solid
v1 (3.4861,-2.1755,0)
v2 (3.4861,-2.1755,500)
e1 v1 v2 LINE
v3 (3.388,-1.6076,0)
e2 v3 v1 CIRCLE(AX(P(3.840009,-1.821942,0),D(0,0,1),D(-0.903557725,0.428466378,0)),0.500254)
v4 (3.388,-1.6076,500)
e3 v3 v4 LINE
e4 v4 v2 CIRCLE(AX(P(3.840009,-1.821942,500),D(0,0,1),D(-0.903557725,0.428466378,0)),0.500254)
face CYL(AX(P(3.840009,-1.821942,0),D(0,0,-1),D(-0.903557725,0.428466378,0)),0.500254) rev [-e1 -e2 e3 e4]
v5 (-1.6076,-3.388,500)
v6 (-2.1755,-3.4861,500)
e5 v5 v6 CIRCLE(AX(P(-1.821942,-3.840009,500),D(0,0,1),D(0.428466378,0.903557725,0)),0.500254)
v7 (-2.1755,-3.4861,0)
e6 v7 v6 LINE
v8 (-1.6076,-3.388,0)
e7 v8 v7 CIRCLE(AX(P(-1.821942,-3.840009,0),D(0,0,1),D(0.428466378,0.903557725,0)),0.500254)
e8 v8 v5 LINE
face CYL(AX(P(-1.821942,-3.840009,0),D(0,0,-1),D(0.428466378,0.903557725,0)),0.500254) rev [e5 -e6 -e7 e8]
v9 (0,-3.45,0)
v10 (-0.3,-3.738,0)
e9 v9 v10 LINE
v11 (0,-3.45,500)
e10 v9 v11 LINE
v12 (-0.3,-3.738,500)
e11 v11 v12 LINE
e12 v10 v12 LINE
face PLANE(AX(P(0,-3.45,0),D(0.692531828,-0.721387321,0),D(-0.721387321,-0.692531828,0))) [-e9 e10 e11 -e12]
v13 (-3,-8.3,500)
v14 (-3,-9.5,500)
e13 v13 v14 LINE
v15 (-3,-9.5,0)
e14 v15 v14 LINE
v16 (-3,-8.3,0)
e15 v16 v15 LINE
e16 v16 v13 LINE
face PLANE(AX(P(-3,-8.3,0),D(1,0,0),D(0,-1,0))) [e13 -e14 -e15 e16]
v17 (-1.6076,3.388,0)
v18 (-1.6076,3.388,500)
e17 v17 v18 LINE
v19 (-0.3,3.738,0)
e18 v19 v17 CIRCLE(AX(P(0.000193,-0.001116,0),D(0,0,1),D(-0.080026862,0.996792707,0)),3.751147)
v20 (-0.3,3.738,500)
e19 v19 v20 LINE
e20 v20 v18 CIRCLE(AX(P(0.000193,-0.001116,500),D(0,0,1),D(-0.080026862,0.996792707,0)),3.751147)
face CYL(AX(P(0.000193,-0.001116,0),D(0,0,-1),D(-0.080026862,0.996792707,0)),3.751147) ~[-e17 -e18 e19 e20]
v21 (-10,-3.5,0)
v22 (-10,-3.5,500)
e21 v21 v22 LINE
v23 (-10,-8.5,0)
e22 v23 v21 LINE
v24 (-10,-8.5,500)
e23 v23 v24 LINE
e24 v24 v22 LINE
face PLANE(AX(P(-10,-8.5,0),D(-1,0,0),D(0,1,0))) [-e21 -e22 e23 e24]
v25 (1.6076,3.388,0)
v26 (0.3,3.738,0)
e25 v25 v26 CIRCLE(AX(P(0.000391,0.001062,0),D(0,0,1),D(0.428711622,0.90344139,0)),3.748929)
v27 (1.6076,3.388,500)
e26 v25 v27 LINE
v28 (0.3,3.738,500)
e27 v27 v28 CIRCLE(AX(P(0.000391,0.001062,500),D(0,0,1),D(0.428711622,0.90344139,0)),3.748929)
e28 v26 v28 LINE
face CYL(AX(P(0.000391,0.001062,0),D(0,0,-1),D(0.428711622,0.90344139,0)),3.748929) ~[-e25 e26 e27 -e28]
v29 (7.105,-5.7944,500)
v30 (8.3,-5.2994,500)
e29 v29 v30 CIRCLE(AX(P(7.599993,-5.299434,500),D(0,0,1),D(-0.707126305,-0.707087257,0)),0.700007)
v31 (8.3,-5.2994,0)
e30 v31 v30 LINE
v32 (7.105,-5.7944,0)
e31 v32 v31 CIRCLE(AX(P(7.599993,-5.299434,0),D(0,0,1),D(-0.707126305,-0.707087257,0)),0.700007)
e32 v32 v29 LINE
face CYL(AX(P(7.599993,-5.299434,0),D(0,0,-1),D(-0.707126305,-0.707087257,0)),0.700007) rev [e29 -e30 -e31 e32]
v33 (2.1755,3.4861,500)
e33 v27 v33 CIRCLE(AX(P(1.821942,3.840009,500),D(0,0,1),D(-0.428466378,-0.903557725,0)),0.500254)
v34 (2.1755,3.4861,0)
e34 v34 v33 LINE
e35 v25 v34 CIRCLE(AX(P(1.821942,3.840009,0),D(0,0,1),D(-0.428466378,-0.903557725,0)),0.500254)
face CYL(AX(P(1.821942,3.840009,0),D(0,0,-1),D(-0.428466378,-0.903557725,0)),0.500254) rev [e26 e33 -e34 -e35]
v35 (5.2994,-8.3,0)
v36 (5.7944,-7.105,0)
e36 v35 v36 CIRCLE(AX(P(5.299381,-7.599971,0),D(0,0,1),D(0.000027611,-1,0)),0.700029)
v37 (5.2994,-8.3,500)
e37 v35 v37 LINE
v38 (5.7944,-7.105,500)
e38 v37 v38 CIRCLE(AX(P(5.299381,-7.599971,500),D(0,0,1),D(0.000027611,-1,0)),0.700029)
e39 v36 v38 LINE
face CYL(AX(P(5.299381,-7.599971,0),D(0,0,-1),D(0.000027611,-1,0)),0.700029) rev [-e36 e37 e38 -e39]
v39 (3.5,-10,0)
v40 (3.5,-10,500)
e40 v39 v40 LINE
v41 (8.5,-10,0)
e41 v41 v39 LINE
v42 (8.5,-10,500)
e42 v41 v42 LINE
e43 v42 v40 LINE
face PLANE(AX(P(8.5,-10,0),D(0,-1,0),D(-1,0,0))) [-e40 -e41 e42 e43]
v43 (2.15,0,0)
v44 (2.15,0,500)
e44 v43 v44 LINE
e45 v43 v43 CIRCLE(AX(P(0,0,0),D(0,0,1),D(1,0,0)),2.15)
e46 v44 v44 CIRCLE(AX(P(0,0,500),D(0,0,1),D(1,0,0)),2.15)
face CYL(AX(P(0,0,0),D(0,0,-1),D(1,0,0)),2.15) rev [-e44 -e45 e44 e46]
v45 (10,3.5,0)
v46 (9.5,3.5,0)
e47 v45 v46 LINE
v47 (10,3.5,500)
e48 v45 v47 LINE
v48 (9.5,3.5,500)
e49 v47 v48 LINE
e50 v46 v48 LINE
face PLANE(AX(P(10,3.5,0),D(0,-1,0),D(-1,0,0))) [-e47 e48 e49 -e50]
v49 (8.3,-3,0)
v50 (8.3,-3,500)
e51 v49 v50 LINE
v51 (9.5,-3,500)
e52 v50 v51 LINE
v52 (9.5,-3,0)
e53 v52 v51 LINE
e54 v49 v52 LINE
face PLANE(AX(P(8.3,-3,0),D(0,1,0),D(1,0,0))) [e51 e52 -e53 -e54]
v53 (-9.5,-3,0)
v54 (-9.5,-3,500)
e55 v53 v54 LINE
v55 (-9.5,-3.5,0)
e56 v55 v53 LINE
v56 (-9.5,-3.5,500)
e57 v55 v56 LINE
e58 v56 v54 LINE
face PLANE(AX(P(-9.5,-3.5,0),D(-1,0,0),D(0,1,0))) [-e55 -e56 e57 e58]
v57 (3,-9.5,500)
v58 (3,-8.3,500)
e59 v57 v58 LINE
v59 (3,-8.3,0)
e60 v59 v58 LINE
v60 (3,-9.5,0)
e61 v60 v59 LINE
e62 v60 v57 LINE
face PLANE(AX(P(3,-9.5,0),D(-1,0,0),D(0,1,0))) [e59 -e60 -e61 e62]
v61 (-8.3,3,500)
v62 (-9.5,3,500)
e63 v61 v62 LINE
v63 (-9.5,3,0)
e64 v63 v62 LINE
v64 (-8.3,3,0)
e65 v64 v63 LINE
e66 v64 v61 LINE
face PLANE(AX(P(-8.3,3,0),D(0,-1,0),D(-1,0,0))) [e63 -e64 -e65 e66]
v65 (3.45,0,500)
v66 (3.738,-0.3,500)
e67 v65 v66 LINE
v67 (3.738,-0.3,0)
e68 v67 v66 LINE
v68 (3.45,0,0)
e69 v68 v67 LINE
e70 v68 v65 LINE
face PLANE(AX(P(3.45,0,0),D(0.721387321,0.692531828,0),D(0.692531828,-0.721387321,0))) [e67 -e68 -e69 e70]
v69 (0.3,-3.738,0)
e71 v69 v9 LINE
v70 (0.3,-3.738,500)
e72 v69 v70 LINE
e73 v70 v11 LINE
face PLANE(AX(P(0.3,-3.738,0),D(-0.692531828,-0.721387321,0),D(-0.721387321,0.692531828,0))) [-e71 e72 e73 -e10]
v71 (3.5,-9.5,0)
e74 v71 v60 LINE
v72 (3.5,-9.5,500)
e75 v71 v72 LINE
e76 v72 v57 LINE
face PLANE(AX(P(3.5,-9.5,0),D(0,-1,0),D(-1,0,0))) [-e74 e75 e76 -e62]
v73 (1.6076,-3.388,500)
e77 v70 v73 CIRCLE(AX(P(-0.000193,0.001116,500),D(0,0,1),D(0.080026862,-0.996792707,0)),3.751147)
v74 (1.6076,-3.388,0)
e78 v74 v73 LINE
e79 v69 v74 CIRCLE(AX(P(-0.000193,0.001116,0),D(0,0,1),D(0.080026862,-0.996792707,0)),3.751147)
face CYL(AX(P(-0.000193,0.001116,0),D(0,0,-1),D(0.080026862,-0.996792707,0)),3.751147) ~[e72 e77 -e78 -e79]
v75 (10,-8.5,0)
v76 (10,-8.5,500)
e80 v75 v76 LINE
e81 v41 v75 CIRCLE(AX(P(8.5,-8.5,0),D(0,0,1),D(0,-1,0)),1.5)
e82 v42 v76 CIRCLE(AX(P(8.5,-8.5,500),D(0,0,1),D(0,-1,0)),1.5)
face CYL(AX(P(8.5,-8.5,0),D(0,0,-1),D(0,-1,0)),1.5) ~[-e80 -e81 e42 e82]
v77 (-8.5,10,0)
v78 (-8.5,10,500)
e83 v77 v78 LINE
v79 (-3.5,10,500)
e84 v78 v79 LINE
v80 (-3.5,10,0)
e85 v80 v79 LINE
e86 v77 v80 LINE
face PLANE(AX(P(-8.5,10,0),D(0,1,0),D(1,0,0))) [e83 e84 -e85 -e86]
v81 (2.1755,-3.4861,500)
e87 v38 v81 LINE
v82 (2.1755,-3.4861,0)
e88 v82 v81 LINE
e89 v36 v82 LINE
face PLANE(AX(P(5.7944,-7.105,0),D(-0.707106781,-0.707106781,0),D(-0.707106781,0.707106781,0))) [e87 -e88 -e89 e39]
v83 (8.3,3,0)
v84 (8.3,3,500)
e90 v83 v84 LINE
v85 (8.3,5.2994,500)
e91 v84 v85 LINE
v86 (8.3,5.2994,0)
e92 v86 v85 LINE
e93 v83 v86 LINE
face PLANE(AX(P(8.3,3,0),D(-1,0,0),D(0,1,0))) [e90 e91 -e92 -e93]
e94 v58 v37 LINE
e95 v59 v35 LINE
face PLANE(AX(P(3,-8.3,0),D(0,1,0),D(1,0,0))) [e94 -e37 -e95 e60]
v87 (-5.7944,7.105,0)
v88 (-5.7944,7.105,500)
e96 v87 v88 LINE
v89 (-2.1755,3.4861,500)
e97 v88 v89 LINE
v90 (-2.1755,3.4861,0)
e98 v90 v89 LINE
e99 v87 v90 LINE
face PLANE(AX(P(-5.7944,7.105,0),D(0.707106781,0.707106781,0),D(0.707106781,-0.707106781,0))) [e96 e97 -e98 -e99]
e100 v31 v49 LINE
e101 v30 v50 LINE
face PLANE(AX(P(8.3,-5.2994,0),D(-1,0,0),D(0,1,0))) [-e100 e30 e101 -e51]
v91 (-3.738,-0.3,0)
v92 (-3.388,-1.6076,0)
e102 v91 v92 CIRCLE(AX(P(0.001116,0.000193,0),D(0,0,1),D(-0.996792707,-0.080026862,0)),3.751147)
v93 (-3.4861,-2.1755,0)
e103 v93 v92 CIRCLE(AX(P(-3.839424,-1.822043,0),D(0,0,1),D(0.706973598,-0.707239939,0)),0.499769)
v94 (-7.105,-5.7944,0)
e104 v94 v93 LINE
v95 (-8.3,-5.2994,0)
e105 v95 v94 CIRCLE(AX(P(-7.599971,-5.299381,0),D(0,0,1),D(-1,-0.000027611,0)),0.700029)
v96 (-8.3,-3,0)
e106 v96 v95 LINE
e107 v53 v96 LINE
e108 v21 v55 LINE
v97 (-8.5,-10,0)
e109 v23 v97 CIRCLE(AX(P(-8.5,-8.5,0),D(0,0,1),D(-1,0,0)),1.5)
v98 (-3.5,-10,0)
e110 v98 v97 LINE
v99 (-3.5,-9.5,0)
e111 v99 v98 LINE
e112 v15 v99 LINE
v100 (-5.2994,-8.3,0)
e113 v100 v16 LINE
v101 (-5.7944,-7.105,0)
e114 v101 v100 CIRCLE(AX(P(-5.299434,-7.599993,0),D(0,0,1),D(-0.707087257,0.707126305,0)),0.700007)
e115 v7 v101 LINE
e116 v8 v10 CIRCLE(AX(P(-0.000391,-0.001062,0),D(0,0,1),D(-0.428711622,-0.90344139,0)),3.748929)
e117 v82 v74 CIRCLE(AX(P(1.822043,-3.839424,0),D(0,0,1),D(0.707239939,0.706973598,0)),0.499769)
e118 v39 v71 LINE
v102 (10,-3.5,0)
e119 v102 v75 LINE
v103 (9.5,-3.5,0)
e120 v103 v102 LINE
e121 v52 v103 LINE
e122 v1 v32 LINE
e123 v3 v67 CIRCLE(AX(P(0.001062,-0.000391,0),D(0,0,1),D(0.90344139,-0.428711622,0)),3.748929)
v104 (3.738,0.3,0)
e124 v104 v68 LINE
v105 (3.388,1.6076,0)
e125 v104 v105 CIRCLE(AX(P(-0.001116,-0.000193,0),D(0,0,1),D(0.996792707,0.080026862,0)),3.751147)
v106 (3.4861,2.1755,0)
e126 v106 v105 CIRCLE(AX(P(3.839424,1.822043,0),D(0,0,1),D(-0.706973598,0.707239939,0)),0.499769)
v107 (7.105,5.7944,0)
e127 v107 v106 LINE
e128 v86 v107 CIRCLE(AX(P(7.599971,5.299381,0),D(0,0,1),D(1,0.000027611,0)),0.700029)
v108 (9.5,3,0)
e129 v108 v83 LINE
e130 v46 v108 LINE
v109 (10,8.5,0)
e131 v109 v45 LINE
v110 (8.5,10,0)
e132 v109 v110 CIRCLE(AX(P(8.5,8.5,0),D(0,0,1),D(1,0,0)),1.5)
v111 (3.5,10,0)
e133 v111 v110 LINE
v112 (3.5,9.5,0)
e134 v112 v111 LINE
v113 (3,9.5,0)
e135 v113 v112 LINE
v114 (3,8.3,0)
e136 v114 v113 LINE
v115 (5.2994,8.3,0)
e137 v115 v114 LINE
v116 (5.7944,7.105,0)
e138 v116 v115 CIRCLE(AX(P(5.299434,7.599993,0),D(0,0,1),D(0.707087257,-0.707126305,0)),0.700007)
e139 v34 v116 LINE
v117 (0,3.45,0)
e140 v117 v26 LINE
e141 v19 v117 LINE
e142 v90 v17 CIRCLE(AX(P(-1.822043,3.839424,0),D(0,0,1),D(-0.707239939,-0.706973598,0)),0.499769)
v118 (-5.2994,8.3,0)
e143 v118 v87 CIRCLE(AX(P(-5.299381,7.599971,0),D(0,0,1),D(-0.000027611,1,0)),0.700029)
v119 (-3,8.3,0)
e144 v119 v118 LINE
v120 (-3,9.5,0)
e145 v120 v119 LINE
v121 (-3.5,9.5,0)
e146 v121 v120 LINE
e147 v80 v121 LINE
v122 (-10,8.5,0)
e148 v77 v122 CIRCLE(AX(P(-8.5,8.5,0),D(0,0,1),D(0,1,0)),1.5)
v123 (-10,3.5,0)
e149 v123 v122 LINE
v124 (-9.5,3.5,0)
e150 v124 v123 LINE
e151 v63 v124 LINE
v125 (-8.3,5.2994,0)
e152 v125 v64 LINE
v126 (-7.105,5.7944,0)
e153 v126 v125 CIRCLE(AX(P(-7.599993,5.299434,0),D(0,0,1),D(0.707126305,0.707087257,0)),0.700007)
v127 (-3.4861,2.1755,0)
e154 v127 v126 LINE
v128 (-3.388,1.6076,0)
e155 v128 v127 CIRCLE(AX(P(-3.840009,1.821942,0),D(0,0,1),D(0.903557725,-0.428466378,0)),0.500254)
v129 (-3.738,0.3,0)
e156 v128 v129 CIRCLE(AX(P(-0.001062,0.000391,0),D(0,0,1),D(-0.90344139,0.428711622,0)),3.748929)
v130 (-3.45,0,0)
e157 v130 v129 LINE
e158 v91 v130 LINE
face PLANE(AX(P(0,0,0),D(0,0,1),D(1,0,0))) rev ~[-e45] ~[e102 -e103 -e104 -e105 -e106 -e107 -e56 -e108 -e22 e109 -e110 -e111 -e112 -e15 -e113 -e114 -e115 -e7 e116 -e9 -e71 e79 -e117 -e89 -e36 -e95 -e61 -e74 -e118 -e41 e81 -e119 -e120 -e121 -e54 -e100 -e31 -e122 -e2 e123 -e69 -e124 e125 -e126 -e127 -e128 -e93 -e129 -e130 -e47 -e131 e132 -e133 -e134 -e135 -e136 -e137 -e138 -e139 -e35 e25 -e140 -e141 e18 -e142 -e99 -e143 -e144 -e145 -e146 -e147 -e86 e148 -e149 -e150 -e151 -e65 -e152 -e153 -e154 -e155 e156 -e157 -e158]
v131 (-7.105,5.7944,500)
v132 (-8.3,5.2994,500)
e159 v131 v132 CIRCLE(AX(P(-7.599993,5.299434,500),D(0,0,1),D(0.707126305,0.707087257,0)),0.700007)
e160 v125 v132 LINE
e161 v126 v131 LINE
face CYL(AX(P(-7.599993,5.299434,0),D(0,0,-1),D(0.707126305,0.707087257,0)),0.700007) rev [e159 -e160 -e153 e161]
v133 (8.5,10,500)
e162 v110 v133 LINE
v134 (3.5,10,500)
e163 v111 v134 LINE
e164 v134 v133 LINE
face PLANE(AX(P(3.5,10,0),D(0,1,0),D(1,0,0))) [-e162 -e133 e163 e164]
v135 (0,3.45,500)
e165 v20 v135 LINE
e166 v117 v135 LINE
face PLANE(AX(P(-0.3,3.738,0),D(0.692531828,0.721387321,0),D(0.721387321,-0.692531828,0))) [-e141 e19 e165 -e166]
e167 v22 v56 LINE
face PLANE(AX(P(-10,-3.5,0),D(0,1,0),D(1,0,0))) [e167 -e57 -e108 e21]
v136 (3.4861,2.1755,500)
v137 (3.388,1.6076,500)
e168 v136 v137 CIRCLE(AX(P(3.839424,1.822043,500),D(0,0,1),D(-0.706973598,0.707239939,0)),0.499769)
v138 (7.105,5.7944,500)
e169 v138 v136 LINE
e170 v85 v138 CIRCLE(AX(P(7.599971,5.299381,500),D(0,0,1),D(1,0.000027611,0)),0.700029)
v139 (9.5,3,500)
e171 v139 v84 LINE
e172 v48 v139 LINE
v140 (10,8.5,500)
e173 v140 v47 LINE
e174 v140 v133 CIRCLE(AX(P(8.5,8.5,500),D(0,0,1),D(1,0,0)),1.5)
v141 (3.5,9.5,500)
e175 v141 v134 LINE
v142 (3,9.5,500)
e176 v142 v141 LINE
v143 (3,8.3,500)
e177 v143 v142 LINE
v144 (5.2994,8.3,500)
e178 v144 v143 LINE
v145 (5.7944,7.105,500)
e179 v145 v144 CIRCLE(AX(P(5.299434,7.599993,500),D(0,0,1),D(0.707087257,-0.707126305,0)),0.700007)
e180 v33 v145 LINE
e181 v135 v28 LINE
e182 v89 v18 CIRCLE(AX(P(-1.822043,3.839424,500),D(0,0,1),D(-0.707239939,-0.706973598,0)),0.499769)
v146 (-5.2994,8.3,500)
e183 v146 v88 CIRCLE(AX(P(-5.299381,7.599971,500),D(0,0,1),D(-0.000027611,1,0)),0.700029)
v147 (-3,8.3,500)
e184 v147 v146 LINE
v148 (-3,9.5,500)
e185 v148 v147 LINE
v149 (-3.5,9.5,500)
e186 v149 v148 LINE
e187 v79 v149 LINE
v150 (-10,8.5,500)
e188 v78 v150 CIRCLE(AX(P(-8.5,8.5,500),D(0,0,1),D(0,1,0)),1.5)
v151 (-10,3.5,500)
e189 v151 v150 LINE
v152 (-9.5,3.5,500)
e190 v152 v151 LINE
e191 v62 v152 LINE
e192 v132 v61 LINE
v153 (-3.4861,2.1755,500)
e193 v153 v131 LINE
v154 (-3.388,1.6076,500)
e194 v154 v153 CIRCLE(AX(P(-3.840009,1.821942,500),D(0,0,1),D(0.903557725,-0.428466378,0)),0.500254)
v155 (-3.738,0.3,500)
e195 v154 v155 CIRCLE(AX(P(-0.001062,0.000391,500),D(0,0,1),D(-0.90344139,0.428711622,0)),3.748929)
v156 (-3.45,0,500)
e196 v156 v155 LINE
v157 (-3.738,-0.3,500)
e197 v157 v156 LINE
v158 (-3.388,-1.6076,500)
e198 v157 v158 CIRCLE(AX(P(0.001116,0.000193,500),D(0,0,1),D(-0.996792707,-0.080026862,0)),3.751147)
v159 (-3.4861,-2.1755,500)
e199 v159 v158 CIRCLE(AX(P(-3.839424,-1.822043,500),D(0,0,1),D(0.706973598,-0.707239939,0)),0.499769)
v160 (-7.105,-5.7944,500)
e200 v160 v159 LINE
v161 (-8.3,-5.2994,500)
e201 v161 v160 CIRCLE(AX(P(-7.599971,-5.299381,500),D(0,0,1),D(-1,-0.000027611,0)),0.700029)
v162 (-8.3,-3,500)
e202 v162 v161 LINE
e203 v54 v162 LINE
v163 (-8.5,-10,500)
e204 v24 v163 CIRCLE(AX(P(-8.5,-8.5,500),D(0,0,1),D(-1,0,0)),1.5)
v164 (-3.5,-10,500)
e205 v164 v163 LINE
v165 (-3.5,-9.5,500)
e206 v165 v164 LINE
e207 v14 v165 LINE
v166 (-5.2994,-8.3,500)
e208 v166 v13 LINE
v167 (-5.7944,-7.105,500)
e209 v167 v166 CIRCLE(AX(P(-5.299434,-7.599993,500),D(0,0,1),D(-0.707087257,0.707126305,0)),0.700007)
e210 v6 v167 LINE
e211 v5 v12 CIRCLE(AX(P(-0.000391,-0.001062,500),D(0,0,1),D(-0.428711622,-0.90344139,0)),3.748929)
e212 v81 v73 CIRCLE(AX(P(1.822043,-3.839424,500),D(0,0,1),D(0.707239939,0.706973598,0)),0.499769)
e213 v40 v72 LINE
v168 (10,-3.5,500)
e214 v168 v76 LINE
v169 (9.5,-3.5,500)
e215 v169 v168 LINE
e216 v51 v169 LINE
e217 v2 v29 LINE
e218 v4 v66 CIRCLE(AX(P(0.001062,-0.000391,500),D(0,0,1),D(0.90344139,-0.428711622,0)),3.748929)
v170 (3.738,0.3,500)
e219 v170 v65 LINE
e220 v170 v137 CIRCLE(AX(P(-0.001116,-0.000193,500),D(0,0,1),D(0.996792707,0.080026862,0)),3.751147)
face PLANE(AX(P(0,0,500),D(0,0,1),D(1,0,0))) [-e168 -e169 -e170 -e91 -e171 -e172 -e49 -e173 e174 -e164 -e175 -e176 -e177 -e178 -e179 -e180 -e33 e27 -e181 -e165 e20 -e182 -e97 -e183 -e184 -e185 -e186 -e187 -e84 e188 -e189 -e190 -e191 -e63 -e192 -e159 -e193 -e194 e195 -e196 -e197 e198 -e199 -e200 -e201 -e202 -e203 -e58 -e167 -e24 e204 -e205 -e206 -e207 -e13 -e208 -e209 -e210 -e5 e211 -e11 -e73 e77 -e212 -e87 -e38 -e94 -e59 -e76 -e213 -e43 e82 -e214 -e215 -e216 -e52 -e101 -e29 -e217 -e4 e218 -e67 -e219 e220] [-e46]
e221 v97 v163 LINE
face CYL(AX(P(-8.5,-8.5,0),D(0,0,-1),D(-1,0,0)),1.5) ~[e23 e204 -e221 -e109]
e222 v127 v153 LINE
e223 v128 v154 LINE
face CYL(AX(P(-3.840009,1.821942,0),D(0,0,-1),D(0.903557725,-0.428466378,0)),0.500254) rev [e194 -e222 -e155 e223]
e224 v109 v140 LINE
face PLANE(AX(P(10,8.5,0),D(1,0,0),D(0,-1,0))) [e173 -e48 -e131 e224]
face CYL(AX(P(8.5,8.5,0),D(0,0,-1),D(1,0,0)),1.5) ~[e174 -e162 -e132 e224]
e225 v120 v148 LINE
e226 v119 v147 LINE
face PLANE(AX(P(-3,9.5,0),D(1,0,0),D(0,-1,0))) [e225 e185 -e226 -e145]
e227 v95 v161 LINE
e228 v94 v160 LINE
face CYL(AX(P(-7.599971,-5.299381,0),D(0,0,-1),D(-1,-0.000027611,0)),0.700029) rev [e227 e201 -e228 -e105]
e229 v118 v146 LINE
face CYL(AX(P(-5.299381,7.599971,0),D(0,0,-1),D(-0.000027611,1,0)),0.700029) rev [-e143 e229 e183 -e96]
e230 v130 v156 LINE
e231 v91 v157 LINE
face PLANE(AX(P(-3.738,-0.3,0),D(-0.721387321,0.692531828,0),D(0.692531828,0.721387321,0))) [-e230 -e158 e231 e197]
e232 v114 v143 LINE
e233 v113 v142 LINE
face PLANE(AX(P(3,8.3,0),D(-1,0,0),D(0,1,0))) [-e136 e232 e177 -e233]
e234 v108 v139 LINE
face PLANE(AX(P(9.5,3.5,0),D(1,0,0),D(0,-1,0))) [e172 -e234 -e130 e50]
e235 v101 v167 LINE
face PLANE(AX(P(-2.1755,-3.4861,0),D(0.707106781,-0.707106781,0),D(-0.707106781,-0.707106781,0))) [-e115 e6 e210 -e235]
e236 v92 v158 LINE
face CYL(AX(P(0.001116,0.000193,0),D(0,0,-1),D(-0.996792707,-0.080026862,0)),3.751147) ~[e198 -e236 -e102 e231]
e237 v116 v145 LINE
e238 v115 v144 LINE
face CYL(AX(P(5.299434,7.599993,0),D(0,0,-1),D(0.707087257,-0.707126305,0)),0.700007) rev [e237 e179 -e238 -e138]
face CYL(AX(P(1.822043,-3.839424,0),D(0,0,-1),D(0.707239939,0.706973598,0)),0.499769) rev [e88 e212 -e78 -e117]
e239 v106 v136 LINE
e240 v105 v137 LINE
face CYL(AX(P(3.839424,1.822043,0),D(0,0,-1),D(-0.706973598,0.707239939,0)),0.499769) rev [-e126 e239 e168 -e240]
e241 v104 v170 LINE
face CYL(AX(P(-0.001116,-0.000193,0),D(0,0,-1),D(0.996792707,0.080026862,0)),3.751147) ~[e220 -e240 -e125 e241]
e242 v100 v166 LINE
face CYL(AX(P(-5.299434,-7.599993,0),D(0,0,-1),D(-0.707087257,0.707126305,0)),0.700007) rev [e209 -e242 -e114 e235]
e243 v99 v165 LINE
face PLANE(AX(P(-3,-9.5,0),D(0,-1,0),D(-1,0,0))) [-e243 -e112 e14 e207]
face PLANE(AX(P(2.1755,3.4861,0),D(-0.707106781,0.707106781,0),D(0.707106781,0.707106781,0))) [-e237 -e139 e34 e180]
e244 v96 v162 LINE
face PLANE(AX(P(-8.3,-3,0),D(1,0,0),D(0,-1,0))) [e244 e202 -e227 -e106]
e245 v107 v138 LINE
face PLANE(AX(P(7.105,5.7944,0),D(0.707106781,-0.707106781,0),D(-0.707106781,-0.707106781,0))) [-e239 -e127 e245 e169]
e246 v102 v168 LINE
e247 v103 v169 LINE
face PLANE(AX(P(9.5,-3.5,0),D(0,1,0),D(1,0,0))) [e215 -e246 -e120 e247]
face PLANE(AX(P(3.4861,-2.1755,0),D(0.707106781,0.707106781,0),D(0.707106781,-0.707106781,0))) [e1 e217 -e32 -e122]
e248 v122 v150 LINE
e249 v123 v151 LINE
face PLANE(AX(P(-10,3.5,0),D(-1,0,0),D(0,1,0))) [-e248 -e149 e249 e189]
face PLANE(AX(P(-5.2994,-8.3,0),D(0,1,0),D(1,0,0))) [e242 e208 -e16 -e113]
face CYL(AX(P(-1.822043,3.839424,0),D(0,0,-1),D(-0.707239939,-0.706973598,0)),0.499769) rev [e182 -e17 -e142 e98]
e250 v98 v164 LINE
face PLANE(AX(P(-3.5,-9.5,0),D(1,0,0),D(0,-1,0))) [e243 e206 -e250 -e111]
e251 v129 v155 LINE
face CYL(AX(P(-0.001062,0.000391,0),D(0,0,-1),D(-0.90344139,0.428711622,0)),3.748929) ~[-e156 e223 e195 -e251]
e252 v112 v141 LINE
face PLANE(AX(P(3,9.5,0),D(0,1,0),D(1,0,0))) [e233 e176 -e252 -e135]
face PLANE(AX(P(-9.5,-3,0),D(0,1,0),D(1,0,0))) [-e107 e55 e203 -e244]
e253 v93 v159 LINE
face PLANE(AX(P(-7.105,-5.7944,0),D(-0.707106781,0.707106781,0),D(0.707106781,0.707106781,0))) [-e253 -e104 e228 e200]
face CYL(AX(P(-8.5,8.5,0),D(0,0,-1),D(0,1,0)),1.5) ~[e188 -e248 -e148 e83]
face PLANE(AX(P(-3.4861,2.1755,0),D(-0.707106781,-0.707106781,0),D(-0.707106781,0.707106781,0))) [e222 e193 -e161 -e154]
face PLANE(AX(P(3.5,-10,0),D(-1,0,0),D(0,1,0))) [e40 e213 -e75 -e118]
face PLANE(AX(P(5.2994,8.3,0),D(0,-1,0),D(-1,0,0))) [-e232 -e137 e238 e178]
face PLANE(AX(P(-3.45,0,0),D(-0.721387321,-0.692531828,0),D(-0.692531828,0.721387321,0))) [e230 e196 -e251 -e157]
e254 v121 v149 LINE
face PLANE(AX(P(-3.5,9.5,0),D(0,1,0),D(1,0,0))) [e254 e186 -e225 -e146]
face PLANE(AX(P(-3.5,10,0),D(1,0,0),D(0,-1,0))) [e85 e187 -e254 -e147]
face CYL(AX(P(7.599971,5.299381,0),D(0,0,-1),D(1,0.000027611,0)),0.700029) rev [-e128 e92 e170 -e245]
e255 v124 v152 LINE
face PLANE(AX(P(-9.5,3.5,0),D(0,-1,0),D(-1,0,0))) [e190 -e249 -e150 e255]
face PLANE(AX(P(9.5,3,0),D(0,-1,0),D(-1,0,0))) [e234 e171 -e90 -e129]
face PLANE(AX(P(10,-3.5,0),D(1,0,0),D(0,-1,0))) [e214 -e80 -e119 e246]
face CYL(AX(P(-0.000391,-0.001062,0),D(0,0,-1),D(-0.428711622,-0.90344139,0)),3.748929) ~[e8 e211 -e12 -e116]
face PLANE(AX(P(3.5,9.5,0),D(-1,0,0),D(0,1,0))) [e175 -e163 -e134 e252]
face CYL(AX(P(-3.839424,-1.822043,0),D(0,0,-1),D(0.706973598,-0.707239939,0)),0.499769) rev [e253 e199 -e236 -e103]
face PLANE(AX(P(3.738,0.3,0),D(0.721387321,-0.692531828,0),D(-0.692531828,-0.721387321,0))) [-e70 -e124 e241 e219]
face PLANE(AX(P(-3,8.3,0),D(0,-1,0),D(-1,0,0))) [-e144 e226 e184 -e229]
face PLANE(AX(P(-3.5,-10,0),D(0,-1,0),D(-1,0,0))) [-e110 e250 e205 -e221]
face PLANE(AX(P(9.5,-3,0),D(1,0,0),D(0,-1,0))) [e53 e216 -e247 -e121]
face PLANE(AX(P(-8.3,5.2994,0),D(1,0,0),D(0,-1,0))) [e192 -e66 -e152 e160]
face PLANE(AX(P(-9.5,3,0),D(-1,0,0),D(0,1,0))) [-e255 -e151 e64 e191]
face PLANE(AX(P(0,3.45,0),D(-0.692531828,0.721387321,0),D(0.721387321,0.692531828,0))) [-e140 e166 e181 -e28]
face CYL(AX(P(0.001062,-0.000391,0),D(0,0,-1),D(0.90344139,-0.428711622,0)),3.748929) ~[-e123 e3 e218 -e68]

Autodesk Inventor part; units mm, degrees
ref_plane "YZ Plane" through (0, 0, 0) normal (1, 0, 0) x (0, 1, 0)
ref_plane "XZ Plane" through (0, 0, 0) normal (0, 1, 0) x (-1, 0, 0)
ref_plane "XY Plane" through (0, 0, 0) normal (0, 0, 1) x (1, 0, 0)
sketch "Skizze1" plane through (0, 0, 0) normal (0, 0, 1) x (1, 0, 0)
  circle A0 centre (0, 0) radius 2.15
  line L0 (-3.5, -9.5) -> (-3.5, -10)
  line L1 (-3, -9.5) -> (-3.5, -9.5)
  line L2 (-3, -8.3) -> (-3, -9.5)
  line L3 (-5.2994, -8.3) -> (-3, -8.3)
  arc A1 (-5.7944, -7.105) -> (-5.2994, -8.3) centre (-5.2994, -7.6) ccw
  line L4 (-2.1755, -3.4861) -> (-5.7944, -7.105)
  arc A2 (-1.6076, -3.388) -> (-2.1755, -3.4861) centre (-1.8219, -3.8397) ccw
  arc A3 (-1.6076, -3.388) -> (-0.3, -3.738) centre (0, 0) ccw
  line L5 (0, -3.45) -> (-0.3, -3.738)
  line L6 (0.3, -3.738) -> (0, -3.45)
  arc A4 (0.3, -3.738) -> (1.6076, -3.388) centre (0, 0) ccw
  arc A5 (2.1755, -3.4861) -> (1.6076, -3.388) centre (1.8219, -3.8397) ccw
  line L7 (5.7944, -7.105) -> (2.1755, -3.4861)
  arc A6 (5.2994, -8.3) -> (5.7944, -7.105) centre (5.2994, -7.6) ccw
  line L8 (3, -8.3) -> (5.2994, -8.3)
  line L9 (3, -9.5) -> (3, -8.3)
  line L10 (3.5, -9.5) -> (3, -9.5)
  line L11 (3.5, -10) -> (3.5, -9.5)
  line L12 (8.5, -10) -> (3.5, -10)
  arc A7 (8.5, -10) -> (10, -8.5) centre (8.5, -8.5) ccw
  line L13 (10, -3.5) -> (10, -8.5)
  line L14 (9.5, -3.5) -> (10, -3.5)
  line L15 (9.5, -3) -> (9.5, -3.5)
  line L16 (8.3, -3) -> (9.5, -3)
  line L17 (8.3, -5.2994) -> (8.3, -3)
  arc A8 (7.105, -5.7944) -> (8.3, -5.2994) centre (7.6, -5.2994) ccw
  line L18 (3.4861, -2.1755) -> (7.105, -5.7944)
  arc A9 (3.388, -1.6076) -> (3.4861, -2.1755) centre (3.8397, -1.8219) ccw
  arc A10 (3.388, -1.6076) -> (3.738, -0.3) centre (0, 0) ccw
  line L19 (3.45, 0) -> (3.738, -0.3)
  line L20 (3.738, 0.3) -> (3.45, 0)
  arc A11 (3.738, 0.3) -> (3.388, 1.6076) centre (0, 0) ccw
  arc A12 (3.4861, 2.1755) -> (3.388, 1.6076) centre (3.8397, 1.8219) ccw
  line L21 (7.105, 5.7944) -> (3.4861, 2.1755)
  arc A13 (8.3, 5.2994) -> (7.105, 5.7944) centre (7.6, 5.2994) ccw
  line L22 (8.3, 3) -> (8.3, 5.2994)
  line L23 (9.5, 3) -> (8.3, 3)
  line L24 (9.5, 3.5) -> (9.5, 3)
  line L25 (10, 3.5) -> (9.5, 3.5)
  line L26 (10, 8.5) -> (10, 3.5)
  arc A14 (10, 8.5) -> (8.5, 10) centre (8.5, 8.5) ccw
  line L27 (3.5, 10) -> (8.5, 10)
  line L28 (3.5, 9.5) -> (3.5, 10)
  line L29 (3, 9.5) -> (3.5, 9.5)
  line L30 (3, 8.3) -> (3, 9.5)
  line L31 (5.2994, 8.3) -> (3, 8.3)
  arc A15 (5.7944, 7.105) -> (5.2994, 8.3) centre (5.2994, 7.6) ccw
  line L32 (2.1755, 3.4861) -> (5.7944, 7.105)
  arc A16 (1.6076, 3.388) -> (2.1755, 3.4861) centre (1.8219, 3.8397) ccw
  arc A17 (1.6076, 3.388) -> (0.3, 3.738) centre (0, 0) ccw
  line L33 (0, 3.45) -> (0.3, 3.738)
  line L34 (-0.3, 3.738) -> (0, 3.45)
  arc A18 (-0.3, 3.738) -> (-1.6076, 3.388) centre (0, 0) ccw
  arc A19 (-2.1755, 3.4861) -> (-1.6076, 3.388) centre (-1.8219, 3.8397) ccw
  line L35 (-5.7944, 7.105) -> (-2.1755, 3.4861)
  arc A20 (-5.2994, 8.3) -> (-5.7944, 7.105) centre (-5.2994, 7.6) ccw
  line L36 (-3, 8.3) -> (-5.2994, 8.3)
  line L37 (-3, 9.5) -> (-3, 8.3)
  line L38 (-3.5, 9.5) -> (-3, 9.5)
  line L39 (-3.5, 10) -> (-3.5, 9.5)
  line L40 (-8.5, 10) -> (-3.5, 10)
  arc A21 (-8.5, 10) -> (-10, 8.5) centre (-8.5, 8.5) ccw
  line L41 (-10, 3.5) -> (-10, 8.5)
  line L42 (-9.5, 3.5) -> (-10, 3.5)
  line L43 (-9.5, 3) -> (-9.5, 3.5)
  line L44 (-8.3, 3) -> (-9.5, 3)
  line L45 (-8.3, 5.2994) -> (-8.3, 3)
  arc A22 (-7.105, 5.7944) -> (-8.3, 5.2994) centre (-7.6, 5.2994) ccw
  line L46 (-3.4861, 2.1755) -> (-7.105, 5.7944)
  arc A23 (-3.388, 1.6076) -> (-3.4861, 2.1755) centre (-3.8397, 1.8219) ccw
  arc A24 (-3.388, 1.6076) -> (-3.738, 0.3) centre (0, 0) ccw
  line L47 (-3.45, 0) -> (-3.738, 0.3)
  line L48 (-3.738, -0.3) -> (-3.45, 0)
  arc A25 (-3.738, -0.3) -> (-3.388, -1.6076) centre (0, 0) ccw
  arc A26 (-3.4861, -2.1755) -> (-3.388, -1.6076) centre (-3.8397, -1.8219) ccw
  line L49 (-7.105, -5.7944) -> (-3.4861, -2.1755)
  arc A27 (-8.3, -5.2994) -> (-7.105, -5.7944) centre (-7.6, -5.2994) ccw
  line L50 (-8.3, -3) -> (-8.3, -5.2994)
  line L51 (-9.5, -3) -> (-8.3, -3)
  line L52 (-9.5, -3.5) -> (-9.5, -3)
  line L53 (-10, -3.5) -> (-9.5, -3.5)
  line L54 (-10, -8.5) -> (-10, -3.5)
  arc A28 (-10, -8.5) -> (-8.5, -10) centre (-8.5, -8.5) ccw
  line L55 (-3.5, -10) -> (-8.5, -10)
  point P0 (18.4588, -14.4564)
extrude "Extrusion1" add sketch "Skizze1" along normal blind 500
properties part number "500mm" material "Aluminium 6061"
